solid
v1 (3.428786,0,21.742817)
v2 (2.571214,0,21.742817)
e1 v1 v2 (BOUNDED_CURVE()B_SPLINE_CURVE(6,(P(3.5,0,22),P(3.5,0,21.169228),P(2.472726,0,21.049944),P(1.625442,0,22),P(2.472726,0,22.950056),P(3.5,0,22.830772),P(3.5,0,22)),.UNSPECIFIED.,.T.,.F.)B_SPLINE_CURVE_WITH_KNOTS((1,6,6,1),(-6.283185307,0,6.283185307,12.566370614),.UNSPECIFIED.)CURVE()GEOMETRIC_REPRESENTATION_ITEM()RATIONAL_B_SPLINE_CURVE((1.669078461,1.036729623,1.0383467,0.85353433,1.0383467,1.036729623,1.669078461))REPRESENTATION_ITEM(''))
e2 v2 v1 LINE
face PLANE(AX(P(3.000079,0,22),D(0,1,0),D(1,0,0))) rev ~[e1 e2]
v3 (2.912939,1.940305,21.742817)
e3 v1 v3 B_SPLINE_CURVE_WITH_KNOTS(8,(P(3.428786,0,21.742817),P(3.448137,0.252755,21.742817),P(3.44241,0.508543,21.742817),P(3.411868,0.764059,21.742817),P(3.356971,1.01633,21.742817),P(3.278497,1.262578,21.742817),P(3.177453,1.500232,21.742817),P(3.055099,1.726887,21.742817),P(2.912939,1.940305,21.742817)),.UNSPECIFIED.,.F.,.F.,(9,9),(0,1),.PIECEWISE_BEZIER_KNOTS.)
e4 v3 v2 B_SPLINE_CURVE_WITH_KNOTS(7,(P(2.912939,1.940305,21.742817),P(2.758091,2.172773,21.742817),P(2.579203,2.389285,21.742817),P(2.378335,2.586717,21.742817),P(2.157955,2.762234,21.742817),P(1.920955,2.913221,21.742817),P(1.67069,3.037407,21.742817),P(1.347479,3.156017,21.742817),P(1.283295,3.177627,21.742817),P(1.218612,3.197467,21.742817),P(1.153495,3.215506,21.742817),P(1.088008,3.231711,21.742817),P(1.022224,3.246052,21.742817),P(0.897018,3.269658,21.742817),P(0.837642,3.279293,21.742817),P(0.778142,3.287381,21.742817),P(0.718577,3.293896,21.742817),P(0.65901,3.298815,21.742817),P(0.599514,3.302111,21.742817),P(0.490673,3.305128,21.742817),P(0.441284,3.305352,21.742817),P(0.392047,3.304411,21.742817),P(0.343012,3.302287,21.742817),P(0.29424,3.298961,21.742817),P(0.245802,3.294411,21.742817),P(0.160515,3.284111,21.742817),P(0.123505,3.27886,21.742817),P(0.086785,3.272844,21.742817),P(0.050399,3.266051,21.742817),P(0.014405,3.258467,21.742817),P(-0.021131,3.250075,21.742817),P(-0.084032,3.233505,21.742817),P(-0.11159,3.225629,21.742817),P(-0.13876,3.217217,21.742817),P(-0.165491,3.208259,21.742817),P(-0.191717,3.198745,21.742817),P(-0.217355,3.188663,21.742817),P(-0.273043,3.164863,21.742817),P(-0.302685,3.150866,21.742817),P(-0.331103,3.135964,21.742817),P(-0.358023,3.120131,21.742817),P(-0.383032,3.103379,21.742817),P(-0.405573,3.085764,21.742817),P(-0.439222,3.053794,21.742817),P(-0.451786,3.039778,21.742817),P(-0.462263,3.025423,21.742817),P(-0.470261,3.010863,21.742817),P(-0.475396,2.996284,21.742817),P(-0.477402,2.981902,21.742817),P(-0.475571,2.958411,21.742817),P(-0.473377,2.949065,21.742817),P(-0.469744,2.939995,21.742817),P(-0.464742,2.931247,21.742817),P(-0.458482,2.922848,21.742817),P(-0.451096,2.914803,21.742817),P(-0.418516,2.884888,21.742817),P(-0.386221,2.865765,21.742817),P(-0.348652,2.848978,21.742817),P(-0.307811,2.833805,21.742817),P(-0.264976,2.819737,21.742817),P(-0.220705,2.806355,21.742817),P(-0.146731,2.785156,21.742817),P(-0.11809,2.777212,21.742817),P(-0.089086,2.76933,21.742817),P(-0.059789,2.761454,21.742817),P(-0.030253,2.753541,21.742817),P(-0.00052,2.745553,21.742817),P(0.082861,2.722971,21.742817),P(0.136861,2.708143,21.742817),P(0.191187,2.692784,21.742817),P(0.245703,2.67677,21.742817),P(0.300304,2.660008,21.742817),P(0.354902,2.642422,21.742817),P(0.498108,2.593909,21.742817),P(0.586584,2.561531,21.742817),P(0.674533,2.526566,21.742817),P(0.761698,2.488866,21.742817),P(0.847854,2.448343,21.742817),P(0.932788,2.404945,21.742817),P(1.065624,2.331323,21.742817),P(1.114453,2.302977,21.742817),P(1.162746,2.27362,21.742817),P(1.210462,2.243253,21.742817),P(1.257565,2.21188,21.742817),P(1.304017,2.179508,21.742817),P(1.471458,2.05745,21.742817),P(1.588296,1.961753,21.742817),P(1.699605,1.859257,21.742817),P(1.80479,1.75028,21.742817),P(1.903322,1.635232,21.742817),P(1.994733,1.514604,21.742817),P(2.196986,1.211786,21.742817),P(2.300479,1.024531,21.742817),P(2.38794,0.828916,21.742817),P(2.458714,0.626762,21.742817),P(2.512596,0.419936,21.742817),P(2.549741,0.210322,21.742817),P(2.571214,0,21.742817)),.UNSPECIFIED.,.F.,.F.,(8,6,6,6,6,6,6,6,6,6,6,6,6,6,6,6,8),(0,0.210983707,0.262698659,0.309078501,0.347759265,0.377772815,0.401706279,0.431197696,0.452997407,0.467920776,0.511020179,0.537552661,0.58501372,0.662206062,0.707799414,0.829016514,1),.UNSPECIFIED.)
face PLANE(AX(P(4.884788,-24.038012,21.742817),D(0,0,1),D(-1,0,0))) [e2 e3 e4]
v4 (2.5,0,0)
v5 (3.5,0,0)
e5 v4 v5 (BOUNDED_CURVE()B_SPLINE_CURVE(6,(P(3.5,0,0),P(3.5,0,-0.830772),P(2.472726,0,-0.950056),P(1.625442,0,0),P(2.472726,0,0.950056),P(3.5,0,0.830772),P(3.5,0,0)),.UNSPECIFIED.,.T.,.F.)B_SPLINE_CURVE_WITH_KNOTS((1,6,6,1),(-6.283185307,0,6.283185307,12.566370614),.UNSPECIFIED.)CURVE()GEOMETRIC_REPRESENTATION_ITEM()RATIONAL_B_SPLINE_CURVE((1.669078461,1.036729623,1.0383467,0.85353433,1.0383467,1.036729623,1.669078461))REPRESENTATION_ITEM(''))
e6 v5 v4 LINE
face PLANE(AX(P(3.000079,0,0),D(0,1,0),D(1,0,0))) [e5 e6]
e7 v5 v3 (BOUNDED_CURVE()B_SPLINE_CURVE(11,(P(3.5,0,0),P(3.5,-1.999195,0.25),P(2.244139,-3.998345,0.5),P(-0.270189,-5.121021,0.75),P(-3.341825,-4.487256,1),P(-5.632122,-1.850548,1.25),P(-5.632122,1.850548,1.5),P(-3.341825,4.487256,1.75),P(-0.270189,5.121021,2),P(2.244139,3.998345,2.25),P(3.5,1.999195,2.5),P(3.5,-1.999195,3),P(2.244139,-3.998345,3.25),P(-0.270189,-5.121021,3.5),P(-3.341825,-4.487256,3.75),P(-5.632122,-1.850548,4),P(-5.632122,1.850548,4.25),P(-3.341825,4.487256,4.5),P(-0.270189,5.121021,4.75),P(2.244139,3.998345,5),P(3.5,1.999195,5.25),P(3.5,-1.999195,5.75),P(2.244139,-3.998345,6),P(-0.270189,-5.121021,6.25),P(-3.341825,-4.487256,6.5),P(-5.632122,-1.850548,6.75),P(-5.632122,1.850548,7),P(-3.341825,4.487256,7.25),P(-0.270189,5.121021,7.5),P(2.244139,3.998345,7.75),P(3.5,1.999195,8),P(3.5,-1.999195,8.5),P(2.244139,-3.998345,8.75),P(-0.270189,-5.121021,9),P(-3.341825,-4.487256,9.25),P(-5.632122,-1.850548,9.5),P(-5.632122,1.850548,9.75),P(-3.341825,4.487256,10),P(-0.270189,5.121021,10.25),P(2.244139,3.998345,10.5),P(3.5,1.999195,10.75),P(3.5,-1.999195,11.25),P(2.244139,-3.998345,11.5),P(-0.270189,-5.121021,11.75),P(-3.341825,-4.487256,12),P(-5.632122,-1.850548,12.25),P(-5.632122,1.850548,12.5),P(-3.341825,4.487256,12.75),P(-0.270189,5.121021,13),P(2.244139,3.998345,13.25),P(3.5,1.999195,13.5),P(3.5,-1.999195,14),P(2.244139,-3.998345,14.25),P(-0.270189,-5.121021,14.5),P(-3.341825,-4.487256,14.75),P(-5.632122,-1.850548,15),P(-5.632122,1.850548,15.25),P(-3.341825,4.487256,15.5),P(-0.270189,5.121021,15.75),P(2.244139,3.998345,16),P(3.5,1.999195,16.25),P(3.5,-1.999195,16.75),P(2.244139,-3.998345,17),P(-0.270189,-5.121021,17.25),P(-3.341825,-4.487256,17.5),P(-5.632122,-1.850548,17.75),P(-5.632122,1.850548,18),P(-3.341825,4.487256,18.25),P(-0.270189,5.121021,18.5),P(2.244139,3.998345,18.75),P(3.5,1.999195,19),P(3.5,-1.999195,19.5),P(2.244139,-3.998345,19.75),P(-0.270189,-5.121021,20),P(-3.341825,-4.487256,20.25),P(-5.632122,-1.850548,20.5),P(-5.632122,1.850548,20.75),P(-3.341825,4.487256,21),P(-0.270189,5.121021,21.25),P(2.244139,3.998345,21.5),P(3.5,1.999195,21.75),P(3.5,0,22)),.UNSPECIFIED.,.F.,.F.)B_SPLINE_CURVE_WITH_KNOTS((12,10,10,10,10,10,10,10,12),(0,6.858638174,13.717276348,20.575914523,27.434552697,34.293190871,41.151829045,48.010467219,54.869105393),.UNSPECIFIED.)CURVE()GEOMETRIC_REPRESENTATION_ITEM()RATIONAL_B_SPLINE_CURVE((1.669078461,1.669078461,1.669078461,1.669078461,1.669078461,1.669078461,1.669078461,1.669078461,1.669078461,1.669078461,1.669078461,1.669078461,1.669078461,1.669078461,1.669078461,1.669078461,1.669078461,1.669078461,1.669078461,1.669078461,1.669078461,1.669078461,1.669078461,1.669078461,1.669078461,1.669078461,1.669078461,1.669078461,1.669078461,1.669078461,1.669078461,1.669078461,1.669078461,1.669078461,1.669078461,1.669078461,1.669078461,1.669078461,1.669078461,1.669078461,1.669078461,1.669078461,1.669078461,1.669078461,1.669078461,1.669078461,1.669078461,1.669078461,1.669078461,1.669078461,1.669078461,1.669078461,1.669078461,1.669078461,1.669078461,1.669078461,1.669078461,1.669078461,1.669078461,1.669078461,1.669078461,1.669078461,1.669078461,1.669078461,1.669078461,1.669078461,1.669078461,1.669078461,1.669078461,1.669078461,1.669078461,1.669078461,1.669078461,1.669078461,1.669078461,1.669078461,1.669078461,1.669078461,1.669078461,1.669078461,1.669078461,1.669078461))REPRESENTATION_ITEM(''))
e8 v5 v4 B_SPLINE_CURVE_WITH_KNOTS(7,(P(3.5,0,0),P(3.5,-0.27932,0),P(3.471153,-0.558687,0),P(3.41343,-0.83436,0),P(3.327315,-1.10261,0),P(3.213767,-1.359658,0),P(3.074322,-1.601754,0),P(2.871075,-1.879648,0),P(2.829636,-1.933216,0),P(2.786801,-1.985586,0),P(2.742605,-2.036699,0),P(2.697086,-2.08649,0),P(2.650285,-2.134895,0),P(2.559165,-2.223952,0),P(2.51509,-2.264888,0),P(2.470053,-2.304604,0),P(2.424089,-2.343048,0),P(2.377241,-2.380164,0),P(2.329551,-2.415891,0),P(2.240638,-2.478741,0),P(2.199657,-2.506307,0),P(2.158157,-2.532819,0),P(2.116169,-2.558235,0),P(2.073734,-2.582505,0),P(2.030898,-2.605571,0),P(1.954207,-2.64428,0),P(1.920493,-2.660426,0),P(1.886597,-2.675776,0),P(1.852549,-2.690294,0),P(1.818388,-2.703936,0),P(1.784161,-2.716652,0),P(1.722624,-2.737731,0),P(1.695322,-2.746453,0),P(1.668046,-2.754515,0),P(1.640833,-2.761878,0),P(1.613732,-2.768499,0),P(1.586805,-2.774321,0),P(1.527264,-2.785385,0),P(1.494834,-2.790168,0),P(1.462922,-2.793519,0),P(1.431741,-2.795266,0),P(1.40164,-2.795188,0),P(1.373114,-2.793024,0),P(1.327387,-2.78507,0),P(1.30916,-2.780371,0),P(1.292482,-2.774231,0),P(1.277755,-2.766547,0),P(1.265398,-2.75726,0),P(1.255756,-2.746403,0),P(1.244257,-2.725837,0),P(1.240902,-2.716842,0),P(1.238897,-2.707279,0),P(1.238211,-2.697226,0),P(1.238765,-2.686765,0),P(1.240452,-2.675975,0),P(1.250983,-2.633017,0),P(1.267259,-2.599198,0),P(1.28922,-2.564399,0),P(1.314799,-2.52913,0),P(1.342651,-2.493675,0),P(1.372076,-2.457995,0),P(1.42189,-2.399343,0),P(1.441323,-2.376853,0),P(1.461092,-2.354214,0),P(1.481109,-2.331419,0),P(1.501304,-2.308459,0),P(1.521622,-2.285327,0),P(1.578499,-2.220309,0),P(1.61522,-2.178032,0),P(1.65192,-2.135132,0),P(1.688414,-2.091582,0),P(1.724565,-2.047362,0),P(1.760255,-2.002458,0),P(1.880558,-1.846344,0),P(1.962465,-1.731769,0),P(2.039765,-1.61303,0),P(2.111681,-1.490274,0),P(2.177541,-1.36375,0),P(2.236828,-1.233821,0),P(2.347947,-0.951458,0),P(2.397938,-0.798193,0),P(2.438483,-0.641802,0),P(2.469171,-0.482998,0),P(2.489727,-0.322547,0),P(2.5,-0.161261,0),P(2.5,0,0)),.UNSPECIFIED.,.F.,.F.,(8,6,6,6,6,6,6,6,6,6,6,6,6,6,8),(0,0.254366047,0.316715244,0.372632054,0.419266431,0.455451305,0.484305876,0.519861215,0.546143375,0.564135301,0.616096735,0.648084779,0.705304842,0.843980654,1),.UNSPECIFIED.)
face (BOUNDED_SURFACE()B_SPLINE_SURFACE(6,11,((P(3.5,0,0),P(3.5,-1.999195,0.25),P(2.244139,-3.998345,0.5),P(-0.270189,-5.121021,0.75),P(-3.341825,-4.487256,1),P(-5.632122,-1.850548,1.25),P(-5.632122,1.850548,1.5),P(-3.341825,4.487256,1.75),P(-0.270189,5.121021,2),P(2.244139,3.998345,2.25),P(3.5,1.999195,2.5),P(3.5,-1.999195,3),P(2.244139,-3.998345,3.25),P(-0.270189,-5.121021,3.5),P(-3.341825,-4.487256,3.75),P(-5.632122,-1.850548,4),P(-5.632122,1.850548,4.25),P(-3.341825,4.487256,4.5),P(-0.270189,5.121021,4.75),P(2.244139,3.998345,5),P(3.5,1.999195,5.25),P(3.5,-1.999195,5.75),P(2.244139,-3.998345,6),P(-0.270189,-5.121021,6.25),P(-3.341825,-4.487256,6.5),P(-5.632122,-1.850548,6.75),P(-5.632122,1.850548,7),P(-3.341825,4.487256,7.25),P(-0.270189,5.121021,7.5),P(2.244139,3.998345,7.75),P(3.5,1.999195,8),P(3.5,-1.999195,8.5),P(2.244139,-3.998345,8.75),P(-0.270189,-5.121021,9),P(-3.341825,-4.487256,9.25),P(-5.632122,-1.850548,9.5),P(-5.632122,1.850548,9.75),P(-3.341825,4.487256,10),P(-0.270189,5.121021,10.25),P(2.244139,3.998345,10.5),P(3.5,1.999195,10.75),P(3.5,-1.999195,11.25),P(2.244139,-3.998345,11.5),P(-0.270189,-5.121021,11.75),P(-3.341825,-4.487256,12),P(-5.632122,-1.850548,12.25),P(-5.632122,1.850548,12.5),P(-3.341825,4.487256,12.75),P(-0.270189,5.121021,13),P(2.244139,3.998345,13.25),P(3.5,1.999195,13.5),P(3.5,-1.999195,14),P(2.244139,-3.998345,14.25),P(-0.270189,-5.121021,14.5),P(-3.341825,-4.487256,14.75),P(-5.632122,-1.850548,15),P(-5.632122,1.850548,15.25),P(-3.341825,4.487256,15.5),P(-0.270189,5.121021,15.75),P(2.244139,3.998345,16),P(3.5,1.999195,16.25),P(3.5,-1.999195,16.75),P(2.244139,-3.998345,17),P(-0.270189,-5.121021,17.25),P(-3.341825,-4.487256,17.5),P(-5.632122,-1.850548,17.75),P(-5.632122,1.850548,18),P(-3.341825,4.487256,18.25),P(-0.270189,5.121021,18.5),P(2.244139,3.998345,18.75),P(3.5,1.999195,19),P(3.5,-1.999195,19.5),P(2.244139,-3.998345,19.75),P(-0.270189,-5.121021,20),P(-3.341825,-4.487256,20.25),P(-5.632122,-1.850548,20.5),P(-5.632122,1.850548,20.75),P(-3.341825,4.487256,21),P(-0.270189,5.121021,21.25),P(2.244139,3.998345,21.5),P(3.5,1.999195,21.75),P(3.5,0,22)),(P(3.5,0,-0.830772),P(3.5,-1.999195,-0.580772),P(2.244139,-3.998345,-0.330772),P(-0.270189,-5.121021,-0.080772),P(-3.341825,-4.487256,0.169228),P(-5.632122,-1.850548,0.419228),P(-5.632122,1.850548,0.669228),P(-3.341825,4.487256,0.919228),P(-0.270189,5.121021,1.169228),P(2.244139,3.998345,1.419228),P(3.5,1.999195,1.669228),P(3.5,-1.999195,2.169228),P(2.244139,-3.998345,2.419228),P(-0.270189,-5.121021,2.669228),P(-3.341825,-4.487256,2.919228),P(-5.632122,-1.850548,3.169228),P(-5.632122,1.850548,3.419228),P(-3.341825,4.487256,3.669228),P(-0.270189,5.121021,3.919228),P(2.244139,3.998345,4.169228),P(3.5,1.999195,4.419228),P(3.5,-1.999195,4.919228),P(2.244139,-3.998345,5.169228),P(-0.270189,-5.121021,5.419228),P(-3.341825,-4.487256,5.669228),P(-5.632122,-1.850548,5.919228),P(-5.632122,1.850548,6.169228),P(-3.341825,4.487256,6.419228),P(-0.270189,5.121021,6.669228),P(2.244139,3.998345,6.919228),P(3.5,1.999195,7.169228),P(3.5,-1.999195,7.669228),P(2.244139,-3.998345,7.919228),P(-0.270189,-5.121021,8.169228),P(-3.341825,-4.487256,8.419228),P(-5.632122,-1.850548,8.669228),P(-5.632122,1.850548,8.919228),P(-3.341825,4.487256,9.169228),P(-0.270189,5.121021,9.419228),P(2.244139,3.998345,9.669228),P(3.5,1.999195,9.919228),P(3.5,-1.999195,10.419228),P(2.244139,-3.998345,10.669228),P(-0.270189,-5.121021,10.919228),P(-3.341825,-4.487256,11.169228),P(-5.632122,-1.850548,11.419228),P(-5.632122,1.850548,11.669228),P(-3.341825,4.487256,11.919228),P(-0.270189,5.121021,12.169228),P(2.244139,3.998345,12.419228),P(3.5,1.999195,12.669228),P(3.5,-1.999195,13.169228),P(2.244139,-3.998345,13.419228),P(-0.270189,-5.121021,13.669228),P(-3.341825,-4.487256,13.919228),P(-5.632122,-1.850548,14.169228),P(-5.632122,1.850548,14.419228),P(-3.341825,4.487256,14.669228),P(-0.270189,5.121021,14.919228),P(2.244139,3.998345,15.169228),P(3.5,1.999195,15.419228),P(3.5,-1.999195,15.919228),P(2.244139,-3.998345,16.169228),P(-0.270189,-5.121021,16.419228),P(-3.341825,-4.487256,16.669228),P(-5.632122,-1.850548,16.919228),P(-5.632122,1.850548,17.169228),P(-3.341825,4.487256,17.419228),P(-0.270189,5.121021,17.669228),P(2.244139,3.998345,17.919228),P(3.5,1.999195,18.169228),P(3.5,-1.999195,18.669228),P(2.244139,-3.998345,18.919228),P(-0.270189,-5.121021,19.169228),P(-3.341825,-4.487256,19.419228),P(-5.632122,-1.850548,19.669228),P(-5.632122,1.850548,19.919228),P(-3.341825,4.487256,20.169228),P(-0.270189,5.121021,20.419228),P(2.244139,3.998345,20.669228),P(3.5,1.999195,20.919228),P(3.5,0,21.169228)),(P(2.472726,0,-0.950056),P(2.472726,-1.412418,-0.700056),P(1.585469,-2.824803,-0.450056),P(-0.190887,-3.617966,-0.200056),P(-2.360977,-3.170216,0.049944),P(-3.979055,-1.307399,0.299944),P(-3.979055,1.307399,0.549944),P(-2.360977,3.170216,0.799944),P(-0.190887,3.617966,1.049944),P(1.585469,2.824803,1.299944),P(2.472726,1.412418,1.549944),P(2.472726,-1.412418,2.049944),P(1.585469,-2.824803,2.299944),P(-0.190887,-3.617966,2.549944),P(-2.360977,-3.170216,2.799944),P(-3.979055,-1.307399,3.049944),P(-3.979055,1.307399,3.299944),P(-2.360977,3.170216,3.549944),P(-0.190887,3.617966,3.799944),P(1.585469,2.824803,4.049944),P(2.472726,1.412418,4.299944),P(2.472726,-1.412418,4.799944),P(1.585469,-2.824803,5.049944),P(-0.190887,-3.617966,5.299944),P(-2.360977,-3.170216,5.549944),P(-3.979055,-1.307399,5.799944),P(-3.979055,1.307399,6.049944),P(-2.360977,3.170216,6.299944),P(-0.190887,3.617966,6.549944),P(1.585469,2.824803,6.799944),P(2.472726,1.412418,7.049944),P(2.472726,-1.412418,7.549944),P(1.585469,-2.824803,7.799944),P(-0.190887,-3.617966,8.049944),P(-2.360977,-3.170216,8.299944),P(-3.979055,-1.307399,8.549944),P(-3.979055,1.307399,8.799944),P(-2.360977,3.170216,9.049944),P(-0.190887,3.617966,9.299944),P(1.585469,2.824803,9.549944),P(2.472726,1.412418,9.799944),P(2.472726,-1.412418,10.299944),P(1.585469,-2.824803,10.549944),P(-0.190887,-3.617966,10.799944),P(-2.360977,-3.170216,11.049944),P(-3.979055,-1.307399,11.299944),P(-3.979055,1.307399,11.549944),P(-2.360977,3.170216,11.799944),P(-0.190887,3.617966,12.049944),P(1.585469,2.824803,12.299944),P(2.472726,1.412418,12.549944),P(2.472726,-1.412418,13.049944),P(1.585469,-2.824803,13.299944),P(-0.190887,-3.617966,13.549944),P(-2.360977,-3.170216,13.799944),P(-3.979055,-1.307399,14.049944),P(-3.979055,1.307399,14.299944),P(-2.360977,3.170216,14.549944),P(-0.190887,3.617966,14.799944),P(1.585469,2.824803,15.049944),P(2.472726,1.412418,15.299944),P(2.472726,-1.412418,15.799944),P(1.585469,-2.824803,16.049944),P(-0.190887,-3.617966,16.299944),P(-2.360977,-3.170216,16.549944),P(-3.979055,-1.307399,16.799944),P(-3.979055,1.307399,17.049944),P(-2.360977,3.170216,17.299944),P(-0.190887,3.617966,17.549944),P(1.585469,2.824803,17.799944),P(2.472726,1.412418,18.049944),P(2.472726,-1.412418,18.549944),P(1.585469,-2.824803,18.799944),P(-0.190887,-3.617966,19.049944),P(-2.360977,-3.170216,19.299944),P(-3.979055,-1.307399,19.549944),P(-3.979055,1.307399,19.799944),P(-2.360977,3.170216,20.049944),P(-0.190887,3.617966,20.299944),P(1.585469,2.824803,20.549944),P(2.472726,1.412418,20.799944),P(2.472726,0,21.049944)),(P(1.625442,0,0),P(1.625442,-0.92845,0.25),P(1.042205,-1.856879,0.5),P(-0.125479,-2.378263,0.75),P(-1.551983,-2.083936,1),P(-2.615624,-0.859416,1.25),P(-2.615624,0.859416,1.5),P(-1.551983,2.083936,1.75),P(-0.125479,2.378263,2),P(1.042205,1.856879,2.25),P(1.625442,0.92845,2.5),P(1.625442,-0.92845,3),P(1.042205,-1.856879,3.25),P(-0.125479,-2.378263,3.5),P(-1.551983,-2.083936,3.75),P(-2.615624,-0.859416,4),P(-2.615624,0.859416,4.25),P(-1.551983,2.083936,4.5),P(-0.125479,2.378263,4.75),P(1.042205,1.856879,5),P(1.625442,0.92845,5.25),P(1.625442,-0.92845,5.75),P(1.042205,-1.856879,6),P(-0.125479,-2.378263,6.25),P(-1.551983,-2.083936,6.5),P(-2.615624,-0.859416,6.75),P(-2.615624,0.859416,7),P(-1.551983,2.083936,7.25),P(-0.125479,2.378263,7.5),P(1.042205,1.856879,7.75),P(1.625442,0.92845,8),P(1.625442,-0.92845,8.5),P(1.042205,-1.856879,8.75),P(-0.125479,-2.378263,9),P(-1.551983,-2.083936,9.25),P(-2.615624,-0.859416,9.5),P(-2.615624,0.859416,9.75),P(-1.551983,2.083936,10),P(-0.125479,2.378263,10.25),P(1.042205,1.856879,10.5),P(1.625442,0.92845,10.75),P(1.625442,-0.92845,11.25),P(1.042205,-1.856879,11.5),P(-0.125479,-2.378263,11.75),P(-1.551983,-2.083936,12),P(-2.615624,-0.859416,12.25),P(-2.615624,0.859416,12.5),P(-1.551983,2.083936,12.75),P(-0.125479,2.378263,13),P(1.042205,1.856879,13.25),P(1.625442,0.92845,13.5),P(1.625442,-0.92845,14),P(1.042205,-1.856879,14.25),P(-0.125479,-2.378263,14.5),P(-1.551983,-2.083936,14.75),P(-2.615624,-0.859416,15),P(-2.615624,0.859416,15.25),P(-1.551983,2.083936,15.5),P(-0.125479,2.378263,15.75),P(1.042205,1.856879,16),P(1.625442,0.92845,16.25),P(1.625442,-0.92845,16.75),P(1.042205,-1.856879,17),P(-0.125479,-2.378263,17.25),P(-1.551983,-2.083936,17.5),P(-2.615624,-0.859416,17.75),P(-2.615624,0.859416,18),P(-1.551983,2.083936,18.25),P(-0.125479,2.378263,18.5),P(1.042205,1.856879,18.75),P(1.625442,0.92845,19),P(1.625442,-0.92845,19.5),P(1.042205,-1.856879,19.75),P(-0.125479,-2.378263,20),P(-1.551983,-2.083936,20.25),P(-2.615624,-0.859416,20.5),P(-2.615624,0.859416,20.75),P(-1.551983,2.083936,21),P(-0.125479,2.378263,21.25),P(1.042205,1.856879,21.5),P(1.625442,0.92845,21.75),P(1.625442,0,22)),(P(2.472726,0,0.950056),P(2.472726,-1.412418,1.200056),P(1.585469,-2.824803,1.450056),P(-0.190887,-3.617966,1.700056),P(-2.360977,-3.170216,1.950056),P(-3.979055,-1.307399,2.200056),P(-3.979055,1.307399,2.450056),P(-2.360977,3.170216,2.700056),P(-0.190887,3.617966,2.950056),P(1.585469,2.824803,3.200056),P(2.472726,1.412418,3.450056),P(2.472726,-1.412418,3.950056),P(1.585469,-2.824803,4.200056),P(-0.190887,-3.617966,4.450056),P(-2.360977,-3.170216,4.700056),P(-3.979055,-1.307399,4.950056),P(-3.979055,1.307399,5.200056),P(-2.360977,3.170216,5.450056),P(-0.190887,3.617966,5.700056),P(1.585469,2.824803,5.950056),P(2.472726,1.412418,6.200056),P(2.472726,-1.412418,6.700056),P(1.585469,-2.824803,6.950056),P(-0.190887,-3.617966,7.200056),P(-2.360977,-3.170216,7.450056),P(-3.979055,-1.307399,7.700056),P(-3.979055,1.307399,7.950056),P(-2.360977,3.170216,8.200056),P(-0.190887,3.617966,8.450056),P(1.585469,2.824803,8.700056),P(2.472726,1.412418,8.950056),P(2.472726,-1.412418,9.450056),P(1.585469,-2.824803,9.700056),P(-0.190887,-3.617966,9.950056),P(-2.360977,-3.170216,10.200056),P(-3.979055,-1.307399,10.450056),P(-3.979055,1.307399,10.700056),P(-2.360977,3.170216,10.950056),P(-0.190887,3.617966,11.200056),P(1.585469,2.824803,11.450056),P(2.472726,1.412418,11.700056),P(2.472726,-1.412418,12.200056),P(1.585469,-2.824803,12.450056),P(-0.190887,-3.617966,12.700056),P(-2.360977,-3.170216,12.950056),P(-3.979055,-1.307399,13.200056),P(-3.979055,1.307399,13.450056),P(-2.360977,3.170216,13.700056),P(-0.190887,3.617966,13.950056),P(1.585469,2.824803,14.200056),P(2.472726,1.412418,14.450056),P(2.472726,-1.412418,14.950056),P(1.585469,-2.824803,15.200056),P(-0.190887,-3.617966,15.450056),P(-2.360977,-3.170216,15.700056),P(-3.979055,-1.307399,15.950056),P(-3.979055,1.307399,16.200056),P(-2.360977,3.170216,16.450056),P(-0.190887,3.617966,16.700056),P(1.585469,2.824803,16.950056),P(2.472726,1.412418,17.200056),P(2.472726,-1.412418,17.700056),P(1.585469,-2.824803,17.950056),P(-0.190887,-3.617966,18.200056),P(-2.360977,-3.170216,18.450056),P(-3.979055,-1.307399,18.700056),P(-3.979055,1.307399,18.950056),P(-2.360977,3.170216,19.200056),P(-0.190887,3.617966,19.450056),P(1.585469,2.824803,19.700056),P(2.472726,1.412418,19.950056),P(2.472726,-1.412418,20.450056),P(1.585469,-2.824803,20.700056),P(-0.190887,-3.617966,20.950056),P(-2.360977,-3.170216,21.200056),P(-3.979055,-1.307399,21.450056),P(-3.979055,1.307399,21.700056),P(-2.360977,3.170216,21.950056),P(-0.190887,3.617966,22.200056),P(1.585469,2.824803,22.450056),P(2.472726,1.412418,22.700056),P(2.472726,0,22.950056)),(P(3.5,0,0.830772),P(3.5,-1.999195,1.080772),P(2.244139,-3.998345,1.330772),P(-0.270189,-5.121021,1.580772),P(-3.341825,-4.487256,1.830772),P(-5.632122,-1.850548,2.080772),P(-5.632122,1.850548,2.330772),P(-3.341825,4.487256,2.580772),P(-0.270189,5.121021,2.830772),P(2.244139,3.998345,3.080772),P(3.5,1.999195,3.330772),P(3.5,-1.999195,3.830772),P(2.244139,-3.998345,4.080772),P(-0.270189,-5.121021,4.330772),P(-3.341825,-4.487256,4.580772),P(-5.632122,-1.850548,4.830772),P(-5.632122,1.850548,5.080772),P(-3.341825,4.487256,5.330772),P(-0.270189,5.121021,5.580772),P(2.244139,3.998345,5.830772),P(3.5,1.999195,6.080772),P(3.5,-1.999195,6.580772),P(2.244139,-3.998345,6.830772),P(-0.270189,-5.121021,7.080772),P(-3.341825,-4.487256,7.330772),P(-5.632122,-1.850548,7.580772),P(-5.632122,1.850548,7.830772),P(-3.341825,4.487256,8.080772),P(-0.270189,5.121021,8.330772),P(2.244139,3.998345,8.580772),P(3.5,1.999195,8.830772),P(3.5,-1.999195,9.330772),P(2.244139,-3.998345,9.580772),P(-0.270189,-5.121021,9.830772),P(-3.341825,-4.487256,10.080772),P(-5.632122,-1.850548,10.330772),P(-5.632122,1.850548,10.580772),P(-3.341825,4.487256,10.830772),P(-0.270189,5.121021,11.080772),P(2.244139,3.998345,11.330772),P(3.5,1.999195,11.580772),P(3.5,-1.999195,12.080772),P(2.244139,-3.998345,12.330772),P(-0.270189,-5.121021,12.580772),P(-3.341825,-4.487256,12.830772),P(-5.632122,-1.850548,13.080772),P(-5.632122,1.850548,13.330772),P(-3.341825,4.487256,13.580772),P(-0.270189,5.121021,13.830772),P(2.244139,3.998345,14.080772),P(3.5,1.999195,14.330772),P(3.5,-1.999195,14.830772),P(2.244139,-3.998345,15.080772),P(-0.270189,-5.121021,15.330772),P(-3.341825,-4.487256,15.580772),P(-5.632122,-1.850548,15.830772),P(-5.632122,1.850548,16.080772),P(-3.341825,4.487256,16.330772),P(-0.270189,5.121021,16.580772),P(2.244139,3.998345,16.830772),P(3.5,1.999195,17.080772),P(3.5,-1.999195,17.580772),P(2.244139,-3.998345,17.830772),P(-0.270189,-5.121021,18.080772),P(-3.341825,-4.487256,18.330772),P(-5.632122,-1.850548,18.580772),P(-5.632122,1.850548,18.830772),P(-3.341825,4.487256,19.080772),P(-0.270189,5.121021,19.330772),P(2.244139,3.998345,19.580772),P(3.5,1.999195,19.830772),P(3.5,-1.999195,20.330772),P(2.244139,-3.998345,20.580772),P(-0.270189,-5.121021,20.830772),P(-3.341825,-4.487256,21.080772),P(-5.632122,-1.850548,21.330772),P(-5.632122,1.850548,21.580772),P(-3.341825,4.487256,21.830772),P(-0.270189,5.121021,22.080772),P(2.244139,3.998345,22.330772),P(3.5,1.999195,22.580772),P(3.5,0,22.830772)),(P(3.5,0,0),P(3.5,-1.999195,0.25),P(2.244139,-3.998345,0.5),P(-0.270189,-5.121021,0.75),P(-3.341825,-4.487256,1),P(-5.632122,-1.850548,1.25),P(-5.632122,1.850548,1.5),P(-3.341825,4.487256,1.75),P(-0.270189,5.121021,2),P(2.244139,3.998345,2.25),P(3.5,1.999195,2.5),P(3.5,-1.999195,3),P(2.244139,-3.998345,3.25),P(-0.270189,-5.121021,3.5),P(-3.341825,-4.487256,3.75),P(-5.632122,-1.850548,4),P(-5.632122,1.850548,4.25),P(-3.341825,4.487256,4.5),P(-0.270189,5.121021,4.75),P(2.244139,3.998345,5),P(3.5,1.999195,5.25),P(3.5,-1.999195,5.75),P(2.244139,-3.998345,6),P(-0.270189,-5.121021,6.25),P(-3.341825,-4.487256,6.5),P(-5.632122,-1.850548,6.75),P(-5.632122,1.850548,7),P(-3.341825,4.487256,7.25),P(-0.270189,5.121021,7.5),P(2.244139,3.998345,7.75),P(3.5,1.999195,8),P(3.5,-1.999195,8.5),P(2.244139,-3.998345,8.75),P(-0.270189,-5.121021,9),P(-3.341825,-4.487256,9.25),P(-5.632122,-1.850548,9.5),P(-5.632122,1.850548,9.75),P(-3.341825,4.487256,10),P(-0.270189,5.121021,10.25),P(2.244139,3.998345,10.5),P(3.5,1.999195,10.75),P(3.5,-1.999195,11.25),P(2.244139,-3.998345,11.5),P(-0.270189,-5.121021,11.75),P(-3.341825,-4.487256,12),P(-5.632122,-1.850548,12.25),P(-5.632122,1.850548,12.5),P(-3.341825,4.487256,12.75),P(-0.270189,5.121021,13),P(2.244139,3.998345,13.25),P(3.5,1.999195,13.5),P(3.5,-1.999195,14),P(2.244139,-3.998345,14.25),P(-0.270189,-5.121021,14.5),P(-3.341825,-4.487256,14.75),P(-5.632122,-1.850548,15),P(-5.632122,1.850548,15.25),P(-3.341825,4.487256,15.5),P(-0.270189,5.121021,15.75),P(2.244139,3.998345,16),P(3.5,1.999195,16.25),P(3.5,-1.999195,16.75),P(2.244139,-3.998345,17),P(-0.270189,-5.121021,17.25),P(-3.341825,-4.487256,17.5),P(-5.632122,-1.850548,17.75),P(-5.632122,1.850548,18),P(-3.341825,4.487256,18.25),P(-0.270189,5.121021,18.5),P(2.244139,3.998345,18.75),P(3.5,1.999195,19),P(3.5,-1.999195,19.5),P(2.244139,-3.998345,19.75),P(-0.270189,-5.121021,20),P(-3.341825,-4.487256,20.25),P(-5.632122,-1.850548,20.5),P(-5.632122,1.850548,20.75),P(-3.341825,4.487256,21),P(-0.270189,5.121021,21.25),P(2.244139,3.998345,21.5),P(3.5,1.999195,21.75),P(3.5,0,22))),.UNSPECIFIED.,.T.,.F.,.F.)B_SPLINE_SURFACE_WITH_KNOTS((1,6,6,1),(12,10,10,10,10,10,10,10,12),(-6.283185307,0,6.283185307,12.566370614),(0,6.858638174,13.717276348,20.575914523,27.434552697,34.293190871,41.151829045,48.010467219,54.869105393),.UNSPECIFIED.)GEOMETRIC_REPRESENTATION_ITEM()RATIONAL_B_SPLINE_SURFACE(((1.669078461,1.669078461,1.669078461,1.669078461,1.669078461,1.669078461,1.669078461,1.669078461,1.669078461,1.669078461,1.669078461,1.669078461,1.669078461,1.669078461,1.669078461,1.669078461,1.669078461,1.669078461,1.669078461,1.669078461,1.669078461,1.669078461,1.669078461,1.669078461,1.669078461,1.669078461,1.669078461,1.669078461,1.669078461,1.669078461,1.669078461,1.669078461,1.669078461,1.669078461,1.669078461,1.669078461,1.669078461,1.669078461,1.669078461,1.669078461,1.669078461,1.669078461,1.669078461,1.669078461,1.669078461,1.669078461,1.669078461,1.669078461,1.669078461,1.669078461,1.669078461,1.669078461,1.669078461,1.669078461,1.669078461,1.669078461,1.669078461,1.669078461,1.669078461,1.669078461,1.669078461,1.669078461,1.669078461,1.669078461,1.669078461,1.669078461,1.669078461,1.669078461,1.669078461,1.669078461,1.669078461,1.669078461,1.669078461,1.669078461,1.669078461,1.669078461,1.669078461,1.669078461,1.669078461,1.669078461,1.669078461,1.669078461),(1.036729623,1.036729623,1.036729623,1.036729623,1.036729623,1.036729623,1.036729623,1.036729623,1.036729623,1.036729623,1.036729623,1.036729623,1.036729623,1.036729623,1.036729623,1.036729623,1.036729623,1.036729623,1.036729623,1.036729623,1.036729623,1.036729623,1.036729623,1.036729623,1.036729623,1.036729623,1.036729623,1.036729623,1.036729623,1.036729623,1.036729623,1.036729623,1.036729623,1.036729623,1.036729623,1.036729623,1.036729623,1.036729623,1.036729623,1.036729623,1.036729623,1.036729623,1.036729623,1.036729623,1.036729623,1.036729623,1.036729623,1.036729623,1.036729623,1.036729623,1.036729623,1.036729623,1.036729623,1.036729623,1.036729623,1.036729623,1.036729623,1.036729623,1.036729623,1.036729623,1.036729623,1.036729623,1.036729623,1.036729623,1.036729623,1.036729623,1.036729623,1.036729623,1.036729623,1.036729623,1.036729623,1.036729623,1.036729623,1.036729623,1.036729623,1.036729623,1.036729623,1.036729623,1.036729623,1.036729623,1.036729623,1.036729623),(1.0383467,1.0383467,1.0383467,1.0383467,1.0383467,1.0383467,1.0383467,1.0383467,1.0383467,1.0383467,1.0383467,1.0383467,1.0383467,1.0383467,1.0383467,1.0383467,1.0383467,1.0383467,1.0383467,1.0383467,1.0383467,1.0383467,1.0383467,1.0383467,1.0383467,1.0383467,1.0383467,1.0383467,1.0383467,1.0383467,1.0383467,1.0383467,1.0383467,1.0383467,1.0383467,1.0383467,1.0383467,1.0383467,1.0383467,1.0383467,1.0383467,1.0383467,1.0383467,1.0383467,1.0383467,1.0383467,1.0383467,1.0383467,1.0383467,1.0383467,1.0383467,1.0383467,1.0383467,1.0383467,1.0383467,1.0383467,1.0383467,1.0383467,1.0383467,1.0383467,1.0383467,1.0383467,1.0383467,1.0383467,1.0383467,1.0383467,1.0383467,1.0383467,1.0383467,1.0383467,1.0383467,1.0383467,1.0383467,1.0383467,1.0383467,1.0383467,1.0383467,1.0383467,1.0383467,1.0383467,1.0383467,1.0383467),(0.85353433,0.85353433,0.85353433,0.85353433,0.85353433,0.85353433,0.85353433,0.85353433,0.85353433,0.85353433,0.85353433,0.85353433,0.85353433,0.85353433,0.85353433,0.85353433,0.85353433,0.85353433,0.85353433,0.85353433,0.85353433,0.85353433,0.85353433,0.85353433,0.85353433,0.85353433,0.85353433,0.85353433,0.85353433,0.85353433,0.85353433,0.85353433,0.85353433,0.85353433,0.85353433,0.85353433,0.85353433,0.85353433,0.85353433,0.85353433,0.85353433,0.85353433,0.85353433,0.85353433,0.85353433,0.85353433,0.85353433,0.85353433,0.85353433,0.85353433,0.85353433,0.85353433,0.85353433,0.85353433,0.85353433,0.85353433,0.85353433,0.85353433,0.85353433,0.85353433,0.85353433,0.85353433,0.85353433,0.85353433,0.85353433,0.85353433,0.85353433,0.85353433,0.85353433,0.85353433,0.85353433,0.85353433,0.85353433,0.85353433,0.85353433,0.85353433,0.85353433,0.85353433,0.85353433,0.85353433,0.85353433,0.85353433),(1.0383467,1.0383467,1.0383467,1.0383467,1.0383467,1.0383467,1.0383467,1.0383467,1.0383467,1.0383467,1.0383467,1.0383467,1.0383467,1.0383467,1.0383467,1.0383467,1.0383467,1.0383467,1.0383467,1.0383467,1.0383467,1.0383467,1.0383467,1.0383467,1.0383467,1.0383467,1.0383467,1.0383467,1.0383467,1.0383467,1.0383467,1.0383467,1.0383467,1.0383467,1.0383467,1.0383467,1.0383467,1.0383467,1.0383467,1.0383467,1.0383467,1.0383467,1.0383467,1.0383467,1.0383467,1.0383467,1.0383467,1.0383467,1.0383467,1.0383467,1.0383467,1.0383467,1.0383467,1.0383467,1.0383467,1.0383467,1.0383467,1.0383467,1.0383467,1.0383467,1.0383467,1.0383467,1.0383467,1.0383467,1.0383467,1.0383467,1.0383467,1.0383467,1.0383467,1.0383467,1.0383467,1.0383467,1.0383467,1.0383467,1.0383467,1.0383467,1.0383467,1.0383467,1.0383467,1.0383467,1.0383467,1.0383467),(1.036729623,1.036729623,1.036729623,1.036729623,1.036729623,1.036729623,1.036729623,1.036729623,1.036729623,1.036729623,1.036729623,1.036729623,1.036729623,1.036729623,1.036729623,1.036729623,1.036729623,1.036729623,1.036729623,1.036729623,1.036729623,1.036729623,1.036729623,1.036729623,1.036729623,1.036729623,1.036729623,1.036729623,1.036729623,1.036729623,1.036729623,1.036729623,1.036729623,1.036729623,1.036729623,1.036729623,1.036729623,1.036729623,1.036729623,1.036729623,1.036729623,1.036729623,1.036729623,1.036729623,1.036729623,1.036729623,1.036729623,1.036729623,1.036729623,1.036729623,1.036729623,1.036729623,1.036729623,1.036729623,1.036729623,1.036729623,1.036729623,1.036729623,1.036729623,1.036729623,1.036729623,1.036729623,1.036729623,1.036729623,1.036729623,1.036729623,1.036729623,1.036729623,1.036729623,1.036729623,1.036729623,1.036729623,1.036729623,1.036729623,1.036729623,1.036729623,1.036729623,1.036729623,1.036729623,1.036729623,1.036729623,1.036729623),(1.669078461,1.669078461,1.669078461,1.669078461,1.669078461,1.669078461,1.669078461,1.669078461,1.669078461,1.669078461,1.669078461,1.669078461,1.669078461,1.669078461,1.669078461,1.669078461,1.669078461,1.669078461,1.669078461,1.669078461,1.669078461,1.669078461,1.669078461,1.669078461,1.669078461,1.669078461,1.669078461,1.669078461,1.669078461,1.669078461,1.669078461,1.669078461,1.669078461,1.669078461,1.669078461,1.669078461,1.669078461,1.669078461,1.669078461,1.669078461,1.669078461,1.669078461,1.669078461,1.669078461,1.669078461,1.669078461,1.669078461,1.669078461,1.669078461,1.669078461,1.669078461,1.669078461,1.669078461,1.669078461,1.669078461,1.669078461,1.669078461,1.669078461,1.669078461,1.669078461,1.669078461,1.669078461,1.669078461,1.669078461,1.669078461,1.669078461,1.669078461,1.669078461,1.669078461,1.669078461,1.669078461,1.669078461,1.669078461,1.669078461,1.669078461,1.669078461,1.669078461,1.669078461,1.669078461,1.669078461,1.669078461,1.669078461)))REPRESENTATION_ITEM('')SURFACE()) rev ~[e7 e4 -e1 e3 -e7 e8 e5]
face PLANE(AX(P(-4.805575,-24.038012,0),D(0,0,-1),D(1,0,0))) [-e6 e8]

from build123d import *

# Parameters (mm, degrees)
SWEEP_1_PITCH            = 2.75
SWEEP_1_HEIGHT           = 22
SWEEP_1_RADIUS           = 3
SKETCH_2_R               = 0.5
CUT_EXTRUDE_1_DEPTH      = 24.038012164
CUT_EXTRUDE_1_DEPTH_BACK = 24.038012164
SKETCH_3_W               = 10.325530474
SKETCH_3_H               = 1.049398907


with BuildPart() as part:
    # 扫描1: sweep along a helix
    with BuildLine() as sweep_1_path:
        Helix(SWEEP_1_PITCH, SWEEP_1_HEIGHT, SWEEP_1_RADIUS, center=(0, 0, 0), direction=(0, 0, 1), lefthand=True)
    # 草图2 → 扫描1 (sweep)
    with BuildSketch(Plane(origin=(0, 0, 0), x_dir=(1, 0, 0), z_dir=(0, 1, 0))):
        with Locations((3, 0)):
            Circle(SKETCH_2_R)
    sweep(path=sweep_1_path.line, is_frenet=True)

    # 草图3 → 切除-拉伸1 (cut, two sides: drawn at the far end of the back side and taken through both)
    with BuildSketch(Plane(origin=(0, 0, 0), x_dir=(1, 0, 0), z_dir=(0, 1, 0)).offset(-CUT_EXTRUDE_1_DEPTH_BACK)):
        Polygon((2.4968198, -21.742817469), (-7.086000981, -21.742817469), (-7.086000981, -25.550853348), (4.884788019, -25.550853348), (4.884788019, -21.742817469), align=None)
        with Locations((0.357189958, 0.524699454)):
            Rectangle(SKETCH_3_W, SKETCH_3_H)
    extrude(amount=CUT_EXTRUDE_1_DEPTH + CUT_EXTRUDE_1_DEPTH_BACK, mode=Mode.SUBTRACT)


solid = part.part
